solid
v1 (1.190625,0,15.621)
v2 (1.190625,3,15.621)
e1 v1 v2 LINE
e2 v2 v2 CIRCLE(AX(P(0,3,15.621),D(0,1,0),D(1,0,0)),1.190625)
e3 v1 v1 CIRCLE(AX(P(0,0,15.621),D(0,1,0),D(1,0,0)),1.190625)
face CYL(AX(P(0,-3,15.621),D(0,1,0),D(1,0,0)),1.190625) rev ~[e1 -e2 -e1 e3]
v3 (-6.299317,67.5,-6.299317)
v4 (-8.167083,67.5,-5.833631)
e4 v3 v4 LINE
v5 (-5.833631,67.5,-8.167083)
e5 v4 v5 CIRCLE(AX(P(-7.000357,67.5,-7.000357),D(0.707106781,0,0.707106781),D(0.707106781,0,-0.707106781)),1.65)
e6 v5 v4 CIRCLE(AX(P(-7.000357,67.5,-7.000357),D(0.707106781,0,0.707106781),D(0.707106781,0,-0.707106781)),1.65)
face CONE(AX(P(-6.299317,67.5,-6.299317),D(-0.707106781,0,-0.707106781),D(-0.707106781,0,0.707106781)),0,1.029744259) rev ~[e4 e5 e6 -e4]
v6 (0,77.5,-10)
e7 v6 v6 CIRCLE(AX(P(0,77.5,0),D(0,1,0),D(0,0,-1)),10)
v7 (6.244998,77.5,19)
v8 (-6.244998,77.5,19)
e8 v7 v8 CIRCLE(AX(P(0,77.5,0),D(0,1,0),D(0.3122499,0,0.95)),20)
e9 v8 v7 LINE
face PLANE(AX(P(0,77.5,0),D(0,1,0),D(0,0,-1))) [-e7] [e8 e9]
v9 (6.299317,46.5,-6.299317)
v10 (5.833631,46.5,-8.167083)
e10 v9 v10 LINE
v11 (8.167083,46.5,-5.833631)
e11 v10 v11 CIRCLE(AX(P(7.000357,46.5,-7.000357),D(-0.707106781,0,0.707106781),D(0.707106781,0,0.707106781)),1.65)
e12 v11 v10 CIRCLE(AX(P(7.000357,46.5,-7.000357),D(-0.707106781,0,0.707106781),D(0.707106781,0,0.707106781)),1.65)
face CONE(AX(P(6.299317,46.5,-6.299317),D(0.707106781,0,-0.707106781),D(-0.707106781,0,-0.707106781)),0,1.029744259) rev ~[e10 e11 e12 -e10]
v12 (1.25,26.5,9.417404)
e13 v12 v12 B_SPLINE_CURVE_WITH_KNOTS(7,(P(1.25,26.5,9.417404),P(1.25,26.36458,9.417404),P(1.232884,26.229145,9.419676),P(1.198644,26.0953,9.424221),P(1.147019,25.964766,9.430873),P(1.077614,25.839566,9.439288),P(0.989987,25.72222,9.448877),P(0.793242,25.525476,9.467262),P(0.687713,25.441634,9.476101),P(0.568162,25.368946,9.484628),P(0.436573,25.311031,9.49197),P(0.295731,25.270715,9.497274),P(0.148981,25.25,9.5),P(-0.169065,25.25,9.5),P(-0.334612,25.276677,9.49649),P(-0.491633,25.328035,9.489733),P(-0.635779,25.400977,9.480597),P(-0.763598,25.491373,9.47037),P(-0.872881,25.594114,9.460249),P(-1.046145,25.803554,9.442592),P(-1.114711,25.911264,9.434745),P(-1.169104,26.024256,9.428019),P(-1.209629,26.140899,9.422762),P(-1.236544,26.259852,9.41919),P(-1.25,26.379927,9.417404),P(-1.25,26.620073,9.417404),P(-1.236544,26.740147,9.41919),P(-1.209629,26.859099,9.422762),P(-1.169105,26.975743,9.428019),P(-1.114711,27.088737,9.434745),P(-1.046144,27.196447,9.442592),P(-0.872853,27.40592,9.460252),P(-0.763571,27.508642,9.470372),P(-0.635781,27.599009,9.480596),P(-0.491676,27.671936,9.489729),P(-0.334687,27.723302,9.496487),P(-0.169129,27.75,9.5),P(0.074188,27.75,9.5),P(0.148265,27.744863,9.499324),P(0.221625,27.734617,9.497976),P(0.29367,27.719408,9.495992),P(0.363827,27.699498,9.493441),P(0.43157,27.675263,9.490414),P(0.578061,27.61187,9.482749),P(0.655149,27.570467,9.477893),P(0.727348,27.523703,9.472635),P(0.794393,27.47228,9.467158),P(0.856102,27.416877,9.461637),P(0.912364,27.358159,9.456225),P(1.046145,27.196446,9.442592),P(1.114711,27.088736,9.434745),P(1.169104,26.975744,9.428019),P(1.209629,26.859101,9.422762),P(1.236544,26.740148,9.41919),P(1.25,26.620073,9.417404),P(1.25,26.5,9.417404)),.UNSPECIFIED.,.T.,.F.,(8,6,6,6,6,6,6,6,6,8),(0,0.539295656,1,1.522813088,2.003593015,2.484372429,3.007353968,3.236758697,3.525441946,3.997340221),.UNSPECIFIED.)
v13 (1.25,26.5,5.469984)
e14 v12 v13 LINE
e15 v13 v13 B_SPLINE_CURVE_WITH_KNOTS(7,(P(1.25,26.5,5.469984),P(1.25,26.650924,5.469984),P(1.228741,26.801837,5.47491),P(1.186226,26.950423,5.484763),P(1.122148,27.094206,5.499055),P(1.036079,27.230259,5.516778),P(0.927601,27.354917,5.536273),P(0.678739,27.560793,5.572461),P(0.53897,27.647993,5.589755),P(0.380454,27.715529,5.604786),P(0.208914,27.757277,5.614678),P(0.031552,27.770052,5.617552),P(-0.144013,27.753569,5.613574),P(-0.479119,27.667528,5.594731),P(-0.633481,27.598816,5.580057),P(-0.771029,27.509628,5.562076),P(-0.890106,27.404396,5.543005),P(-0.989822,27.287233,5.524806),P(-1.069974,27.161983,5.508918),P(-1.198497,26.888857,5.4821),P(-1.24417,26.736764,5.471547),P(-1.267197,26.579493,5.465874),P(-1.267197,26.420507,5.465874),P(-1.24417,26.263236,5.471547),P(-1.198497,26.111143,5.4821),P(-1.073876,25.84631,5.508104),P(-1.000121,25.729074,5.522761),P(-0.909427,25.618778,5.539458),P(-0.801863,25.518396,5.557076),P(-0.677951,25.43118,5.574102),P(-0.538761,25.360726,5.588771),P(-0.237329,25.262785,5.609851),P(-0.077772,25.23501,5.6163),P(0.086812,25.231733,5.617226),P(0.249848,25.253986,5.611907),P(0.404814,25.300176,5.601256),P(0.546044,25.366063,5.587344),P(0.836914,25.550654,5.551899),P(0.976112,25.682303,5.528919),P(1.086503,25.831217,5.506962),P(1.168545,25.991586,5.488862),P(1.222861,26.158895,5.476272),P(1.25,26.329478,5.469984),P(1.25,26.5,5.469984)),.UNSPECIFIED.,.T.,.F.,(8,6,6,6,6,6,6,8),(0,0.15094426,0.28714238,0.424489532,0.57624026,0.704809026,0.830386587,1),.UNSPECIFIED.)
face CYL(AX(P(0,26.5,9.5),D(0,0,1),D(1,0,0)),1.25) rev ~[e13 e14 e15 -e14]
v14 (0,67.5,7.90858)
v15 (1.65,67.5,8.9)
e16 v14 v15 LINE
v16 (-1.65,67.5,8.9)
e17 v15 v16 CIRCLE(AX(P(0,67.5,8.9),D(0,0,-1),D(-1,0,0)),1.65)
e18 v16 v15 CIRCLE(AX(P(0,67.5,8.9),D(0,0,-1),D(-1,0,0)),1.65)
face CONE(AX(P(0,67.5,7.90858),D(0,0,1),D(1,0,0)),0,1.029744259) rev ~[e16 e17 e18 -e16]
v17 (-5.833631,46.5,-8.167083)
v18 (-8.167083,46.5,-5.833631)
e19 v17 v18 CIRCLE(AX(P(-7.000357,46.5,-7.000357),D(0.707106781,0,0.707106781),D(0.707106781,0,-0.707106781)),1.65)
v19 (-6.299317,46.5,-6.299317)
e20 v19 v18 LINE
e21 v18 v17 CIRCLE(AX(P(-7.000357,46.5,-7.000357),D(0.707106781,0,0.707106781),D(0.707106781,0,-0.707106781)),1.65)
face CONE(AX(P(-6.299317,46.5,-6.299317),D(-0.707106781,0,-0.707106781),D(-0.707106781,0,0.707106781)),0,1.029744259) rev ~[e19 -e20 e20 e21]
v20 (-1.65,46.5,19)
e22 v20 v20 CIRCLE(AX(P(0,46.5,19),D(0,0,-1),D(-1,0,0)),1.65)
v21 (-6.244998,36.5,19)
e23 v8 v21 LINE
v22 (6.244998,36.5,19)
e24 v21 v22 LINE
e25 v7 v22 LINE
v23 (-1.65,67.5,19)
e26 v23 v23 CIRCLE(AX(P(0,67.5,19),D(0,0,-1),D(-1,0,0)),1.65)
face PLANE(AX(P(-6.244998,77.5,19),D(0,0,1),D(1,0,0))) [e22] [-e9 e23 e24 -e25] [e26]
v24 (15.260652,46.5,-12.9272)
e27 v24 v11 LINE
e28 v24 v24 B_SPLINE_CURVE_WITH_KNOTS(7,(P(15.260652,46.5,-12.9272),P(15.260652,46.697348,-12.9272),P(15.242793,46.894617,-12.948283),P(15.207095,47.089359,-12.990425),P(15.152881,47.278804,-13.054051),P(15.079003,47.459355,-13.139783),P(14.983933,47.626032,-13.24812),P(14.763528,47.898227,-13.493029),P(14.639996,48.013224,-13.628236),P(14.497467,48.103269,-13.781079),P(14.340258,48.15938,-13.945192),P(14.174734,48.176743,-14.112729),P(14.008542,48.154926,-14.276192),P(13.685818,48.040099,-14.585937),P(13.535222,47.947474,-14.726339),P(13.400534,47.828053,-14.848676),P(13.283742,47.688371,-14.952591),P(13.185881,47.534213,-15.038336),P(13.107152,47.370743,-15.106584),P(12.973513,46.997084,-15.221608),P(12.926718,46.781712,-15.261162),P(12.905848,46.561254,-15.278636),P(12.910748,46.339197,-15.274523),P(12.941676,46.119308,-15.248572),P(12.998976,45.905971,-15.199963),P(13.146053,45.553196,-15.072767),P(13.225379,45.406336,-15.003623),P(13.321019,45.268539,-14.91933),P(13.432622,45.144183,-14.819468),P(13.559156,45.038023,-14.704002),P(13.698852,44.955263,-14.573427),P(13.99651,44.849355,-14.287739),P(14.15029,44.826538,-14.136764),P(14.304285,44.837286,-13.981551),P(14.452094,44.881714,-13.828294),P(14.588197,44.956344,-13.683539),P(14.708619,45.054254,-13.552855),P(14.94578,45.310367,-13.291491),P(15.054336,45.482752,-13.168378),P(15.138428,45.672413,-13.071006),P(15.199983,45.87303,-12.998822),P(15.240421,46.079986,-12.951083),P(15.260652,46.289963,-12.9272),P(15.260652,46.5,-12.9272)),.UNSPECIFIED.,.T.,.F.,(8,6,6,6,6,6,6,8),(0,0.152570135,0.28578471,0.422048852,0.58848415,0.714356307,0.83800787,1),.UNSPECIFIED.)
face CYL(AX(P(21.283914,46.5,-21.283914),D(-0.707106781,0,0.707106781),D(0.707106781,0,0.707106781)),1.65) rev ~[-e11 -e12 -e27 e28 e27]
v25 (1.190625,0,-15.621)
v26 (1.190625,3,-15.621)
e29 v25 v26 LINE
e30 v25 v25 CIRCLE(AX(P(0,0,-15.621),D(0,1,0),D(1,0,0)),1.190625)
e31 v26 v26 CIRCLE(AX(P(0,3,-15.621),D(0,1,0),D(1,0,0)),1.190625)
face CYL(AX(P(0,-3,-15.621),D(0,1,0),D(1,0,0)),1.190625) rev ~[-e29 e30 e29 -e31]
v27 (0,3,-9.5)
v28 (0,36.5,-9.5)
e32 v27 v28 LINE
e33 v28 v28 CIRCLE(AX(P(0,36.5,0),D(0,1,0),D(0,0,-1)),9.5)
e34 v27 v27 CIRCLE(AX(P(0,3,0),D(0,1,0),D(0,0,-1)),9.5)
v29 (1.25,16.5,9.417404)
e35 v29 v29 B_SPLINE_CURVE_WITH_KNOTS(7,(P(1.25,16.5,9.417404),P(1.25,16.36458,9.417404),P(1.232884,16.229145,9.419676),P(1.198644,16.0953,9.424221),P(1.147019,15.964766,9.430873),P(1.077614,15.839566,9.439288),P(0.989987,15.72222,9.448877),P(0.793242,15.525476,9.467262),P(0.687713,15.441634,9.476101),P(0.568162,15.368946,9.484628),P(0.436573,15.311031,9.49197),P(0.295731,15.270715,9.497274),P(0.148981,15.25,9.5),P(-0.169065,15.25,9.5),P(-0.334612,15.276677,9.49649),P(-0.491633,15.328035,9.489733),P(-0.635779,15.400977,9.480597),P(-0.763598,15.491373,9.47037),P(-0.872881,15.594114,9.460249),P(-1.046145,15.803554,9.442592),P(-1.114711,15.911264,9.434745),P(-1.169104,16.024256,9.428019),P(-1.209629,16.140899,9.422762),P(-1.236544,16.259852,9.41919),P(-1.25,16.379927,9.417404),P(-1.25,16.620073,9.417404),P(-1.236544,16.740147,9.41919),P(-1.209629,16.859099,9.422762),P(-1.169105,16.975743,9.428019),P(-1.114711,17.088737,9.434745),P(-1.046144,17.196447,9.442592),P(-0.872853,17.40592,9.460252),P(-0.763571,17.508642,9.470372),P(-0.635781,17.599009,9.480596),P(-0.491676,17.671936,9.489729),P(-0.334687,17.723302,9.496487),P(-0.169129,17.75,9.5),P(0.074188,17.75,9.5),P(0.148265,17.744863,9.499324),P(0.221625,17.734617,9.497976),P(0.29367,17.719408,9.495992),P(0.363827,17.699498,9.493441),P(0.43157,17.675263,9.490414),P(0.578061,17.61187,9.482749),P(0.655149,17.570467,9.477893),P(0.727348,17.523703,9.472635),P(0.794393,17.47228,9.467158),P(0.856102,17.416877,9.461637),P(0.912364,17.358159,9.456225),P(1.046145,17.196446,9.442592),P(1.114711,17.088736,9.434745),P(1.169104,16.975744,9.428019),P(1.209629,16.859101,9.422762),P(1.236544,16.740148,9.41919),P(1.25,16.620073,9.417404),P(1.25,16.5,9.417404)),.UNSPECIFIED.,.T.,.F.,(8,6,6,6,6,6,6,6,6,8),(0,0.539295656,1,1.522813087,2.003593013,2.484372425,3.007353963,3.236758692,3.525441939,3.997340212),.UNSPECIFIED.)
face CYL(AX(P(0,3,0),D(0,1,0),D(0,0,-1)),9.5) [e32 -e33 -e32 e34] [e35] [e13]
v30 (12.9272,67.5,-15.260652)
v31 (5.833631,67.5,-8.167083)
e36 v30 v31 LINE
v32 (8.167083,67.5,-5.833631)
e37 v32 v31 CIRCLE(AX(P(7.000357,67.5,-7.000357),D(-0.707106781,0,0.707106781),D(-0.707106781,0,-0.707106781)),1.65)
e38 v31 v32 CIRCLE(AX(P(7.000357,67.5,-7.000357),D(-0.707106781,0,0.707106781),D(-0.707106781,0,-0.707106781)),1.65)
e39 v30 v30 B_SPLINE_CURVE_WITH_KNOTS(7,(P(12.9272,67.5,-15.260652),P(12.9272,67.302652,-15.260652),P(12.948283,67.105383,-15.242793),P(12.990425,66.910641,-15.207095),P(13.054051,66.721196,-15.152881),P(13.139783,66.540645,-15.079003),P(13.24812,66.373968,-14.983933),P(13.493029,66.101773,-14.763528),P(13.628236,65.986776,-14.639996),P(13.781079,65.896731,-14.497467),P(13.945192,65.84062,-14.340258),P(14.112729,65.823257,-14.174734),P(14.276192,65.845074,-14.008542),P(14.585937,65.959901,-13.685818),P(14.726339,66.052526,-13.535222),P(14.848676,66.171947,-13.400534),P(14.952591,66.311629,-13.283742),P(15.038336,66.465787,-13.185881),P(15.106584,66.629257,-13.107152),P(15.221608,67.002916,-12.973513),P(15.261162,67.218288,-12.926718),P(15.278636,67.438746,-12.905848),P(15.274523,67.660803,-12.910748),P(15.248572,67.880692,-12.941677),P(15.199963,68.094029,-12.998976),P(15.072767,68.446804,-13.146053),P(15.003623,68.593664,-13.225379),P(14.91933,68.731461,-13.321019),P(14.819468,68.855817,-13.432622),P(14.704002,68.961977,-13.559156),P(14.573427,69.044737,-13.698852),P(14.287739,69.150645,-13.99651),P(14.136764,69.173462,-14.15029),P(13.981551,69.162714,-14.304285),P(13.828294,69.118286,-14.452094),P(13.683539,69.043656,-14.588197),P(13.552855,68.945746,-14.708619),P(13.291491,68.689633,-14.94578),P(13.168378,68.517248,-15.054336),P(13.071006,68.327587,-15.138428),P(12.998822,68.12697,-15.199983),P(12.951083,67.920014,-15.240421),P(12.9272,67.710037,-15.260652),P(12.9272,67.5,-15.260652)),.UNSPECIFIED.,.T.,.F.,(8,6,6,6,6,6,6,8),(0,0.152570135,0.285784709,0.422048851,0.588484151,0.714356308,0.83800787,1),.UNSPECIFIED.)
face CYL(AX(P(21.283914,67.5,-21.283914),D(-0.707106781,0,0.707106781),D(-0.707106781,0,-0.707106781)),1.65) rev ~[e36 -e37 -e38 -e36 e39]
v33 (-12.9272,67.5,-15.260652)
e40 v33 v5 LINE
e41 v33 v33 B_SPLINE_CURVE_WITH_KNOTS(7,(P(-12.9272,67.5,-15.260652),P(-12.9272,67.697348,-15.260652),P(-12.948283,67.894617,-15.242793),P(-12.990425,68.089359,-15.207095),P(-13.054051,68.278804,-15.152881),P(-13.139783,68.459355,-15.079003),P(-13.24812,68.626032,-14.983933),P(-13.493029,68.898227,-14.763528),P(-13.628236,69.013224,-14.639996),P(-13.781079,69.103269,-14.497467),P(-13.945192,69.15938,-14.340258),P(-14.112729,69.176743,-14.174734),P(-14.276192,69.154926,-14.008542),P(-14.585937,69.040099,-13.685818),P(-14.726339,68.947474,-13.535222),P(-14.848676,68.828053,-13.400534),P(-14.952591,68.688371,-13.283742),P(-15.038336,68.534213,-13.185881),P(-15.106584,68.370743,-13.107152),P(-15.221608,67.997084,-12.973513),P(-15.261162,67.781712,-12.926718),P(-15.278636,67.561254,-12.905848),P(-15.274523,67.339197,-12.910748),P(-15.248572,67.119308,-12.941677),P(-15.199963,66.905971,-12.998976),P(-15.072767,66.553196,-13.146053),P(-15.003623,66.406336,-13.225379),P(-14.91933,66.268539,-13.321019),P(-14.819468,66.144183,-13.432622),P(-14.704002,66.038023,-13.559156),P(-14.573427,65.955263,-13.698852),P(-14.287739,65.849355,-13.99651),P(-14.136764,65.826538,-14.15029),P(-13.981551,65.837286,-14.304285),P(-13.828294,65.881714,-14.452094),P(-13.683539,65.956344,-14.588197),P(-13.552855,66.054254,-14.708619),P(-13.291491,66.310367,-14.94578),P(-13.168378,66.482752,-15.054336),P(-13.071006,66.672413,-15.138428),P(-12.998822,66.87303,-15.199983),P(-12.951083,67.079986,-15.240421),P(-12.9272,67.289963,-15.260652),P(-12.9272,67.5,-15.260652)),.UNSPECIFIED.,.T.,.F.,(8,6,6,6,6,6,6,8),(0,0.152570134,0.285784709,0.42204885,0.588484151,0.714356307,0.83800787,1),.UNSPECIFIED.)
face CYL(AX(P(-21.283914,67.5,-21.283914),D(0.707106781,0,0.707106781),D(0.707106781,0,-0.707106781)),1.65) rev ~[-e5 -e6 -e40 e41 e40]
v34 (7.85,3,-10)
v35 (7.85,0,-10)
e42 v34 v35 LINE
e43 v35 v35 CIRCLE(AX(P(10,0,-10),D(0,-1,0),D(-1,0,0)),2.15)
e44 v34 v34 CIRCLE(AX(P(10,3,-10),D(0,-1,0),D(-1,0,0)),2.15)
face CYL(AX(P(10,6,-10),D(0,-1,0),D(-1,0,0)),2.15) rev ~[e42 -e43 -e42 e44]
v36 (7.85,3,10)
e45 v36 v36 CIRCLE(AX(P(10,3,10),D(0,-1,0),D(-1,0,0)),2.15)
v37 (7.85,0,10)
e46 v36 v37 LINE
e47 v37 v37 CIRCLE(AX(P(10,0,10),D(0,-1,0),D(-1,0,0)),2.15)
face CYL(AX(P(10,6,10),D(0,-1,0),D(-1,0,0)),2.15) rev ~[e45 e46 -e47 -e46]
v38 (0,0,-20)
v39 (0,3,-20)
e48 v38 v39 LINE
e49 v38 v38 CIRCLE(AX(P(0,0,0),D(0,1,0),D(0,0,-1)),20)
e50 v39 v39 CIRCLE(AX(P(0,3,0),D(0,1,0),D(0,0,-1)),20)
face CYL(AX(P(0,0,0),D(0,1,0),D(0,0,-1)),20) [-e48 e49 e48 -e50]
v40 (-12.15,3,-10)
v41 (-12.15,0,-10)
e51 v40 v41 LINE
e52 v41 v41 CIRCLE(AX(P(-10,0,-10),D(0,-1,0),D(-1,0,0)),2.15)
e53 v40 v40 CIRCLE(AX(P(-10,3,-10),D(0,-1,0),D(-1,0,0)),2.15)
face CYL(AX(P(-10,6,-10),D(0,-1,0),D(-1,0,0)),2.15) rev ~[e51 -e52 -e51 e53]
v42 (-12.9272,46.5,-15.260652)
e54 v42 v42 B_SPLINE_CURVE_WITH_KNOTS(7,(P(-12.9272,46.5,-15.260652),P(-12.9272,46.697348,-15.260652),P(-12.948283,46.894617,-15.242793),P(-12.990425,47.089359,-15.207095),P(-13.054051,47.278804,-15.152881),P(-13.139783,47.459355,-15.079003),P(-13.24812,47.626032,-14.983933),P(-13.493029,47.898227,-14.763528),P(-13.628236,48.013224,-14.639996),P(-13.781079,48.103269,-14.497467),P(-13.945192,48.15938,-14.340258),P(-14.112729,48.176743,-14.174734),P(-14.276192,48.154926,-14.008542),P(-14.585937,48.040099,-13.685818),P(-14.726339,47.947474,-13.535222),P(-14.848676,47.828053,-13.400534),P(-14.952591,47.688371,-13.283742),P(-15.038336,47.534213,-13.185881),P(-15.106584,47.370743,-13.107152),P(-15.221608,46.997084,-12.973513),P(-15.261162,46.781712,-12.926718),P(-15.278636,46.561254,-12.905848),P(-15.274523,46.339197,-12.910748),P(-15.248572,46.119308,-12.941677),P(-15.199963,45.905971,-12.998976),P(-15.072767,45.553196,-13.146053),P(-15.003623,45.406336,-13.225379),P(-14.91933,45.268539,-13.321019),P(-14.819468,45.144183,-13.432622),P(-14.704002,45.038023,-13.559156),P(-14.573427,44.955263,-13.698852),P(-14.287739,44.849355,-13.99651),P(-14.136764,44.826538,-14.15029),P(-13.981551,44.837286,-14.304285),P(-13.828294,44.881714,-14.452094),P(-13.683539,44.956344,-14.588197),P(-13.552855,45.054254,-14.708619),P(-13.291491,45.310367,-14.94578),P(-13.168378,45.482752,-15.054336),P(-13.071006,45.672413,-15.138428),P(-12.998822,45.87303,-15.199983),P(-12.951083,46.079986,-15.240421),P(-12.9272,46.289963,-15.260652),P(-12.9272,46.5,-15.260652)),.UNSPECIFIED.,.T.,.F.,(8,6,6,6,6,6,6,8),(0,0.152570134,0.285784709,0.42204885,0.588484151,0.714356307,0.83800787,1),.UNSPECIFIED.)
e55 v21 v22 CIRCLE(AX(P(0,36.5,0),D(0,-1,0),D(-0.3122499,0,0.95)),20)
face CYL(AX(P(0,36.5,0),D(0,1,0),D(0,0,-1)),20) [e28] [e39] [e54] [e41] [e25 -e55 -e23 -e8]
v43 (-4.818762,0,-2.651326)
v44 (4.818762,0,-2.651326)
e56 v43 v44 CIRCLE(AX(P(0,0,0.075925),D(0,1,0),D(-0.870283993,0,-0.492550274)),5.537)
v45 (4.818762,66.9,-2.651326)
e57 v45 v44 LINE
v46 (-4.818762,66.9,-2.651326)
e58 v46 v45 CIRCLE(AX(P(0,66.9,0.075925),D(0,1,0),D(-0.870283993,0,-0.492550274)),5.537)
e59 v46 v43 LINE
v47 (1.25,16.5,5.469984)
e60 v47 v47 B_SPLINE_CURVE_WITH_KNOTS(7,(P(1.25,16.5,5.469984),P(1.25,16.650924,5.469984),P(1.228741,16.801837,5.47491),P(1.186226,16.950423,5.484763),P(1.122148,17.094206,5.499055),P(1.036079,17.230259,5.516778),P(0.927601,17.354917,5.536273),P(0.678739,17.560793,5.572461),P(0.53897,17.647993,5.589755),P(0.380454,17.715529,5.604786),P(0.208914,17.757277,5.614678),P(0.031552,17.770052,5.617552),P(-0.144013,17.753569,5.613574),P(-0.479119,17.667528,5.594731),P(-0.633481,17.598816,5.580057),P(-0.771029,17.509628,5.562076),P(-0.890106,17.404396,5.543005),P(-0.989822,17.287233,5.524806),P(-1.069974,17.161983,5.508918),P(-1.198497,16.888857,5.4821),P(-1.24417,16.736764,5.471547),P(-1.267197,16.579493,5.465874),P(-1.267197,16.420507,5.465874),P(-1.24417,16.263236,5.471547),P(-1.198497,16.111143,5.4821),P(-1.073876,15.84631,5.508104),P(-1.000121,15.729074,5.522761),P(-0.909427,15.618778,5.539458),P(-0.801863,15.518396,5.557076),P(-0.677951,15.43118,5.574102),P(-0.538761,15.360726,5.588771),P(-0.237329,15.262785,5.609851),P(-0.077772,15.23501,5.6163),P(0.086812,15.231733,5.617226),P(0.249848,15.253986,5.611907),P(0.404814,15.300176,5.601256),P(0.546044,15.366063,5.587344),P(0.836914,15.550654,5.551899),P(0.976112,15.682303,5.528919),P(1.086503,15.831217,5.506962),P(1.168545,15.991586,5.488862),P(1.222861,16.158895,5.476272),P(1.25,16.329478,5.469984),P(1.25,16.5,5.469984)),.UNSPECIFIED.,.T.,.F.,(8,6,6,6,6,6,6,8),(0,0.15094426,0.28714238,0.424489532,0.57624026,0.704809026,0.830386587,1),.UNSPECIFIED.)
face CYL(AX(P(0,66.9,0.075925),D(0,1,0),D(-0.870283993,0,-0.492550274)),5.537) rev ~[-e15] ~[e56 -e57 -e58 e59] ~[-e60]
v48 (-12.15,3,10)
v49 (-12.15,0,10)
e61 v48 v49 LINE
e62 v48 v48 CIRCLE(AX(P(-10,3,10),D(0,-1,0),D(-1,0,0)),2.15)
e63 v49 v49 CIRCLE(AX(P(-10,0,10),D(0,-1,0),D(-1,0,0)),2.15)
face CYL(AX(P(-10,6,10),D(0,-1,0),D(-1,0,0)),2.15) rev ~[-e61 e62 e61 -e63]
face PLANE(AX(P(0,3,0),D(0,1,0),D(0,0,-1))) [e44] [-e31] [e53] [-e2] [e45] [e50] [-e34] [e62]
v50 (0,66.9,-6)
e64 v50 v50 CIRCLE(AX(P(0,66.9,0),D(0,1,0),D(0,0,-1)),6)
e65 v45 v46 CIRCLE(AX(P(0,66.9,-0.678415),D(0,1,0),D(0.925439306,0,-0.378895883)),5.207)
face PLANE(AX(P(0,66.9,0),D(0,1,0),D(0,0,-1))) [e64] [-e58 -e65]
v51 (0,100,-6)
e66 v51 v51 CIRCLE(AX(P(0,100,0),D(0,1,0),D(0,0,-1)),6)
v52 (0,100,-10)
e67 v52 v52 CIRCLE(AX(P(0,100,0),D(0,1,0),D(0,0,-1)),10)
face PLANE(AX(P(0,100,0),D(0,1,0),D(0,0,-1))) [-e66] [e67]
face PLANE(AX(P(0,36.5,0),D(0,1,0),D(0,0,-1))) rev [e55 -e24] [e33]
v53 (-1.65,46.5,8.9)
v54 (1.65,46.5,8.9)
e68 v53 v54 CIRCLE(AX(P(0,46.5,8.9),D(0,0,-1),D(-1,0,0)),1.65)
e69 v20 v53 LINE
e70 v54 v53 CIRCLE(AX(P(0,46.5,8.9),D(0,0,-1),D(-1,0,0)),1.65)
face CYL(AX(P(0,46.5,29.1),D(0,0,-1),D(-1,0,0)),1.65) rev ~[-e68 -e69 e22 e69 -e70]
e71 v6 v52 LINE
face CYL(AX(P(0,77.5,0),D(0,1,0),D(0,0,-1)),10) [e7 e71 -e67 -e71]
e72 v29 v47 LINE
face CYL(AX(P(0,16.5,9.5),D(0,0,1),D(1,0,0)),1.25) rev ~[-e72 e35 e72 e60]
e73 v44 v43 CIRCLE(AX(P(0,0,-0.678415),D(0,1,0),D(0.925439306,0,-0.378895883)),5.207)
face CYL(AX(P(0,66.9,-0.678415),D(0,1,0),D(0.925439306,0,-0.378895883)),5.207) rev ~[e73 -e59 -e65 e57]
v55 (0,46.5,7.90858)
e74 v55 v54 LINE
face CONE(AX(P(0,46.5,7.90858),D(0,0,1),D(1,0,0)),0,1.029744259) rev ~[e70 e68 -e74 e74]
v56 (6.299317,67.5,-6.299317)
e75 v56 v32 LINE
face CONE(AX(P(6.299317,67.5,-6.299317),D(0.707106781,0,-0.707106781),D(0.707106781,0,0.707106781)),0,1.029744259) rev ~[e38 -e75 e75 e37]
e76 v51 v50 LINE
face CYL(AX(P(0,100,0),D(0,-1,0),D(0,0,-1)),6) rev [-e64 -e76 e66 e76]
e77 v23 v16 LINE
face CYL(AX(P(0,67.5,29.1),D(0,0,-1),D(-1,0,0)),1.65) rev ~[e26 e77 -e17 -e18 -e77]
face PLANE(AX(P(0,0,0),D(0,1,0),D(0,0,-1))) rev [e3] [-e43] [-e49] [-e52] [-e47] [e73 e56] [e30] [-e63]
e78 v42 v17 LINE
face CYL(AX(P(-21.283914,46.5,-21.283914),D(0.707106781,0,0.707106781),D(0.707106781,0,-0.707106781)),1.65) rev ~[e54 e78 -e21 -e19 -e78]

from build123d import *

# Parameters (mm, degrees)
CUT_EXTRUDE2_REACH              = 84.5
M4_TAPPED_HOLE1_D               = 3.3
M4_TAPPED_HOLE1_DEPTH           = 10.1
M4_TAPPED_HOLE1_TIP             = 0.991420021
M4_TAPPED_HOLE1_ON_FACE_2_D     = 3.3
M4_TAPPED_HOLE1_ON_FACE_2_DEPTH = 10.1
M4_TAPPED_HOLE1_ON_FACE_2_TIP   = 0.991420021
M4_TAPPED_HOLE1_ON_FACE_3_D     = 3.3
M4_TAPPED_HOLE1_ON_FACE_3_DEPTH = 10.1
M4_TAPPED_HOLE1_ON_FACE_3_TIP   = 0.991420021
M4_TAPPED_HOLE1_ON_FACE_4_D     = 3.3
M4_TAPPED_HOLE1_ON_FACE_4_DEPTH = 10.1
M4_TAPPED_HOLE1_ON_FACE_4_TIP   = 0.991420021
CUT_EXTRUDE1_START              = -66.9
CUT_EXTRUDE1_DEPTH              = 66.9
M3_TAPPED_HOLE1_REACH           = 92.788
M3_TAPPED_HOLE1_BORE_R          = 1.25
F_2_4MM_DOWEL_HOLE1_D           = 2.38125
F_2_4MM_DOWEL_HOLE1_DEPTH       = 3
M4_CLEARANCE_HOLE2_D            = 4.3
M4_CLEARANCE_HOLE2_DEPTH        = 3


with BuildPart() as part:
    # Sketch1 → Revolve1 (revolve)
    with BuildSketch(Plane.XY, mode=Mode.PRIVATE) as revolve1_sk:
        Polygon((5.5, 66.9), (5.5, 0), (20, 0), (20, 3), (9.5, 3), (9.5, 36.5), (20, 36.5), (20, 77.5), (10, 77.5), (10, 100), (6, 100), (6, 66.9), align=None)
    revolve(revolve1_sk.sketch.rotate(Axis((0, 0, 0), (0, 1, 0)), 90), axis=Axis((0, 0, 0), (0, 1, 0)))

    # Sketch6 → Cut-Extrude2 (cut, up to next)
    with BuildSketch(Plane(origin=(0, 77.5, 0), x_dir=(1, 0, 0), z_dir=(0, 1, 0)), mode=Mode.PRIVATE) as cut_extrude2_sk1:
        with BuildLine():
            Line((-6.244997998, -19), (6.244997998, -19))
            ThreePointArc((6.244997998, -19), (0, -20), (-6.244997998, -19))
        make_face()
    cut_extrude2_tool1 = extrude(cut_extrude2_sk1.sketch, amount=-CUT_EXTRUDE2_REACH, mode=Mode.PRIVATE) & part.part
    add(cut_extrude2_tool1.solids().sort_by_distance((0, 77.5, 19.40087))[0], mode=Mode.SUBTRACT)

    # M4 Tapped Hole1
    with Locations(Plane(origin=(14.142135624, 67.5, -14.142135624), x_dir=(0.707106781187, 0, 0.707106781187), z_dir=(0.707106781187, 0, -0.707106781187))):
        with Locations((0, 0)):
            Hole(M4_TAPPED_HOLE1_D / 2, depth=M4_TAPPED_HOLE1_DEPTH)
            with Locations((0, 0, -(M4_TAPPED_HOLE1_DEPTH + M4_TAPPED_HOLE1_TIP / 2))):  # 118° drill point
                Cone(0, M4_TAPPED_HOLE1_D / 2, M4_TAPPED_HOLE1_TIP, mode=Mode.SUBTRACT)

    # M4 Tapped Hole1 on face 2
    with Locations(Plane(origin=(14.142135624, 46.5, -14.142135624), x_dir=(-0.707106781187, 0, -0.707106781187), z_dir=(0.707106781187, 0, -0.707106781187))):
        with Locations((0, 0)):
            Hole(M4_TAPPED_HOLE1_ON_FACE_2_D / 2, depth=M4_TAPPED_HOLE1_ON_FACE_2_DEPTH)
            with Locations((0, 0, -(M4_TAPPED_HOLE1_ON_FACE_2_DEPTH + M4_TAPPED_HOLE1_ON_FACE_2_TIP / 2))):  # 118° drill point
                Cone(0, M4_TAPPED_HOLE1_ON_FACE_2_D / 2, M4_TAPPED_HOLE1_ON_FACE_2_TIP, mode=Mode.SUBTRACT)

    # M4 Tapped Hole1 on face 3
    with Locations(Plane(origin=(-14.142135624, 46.5, -14.142135624), x_dir=(-0.707106781187, 0, 0.707106781187), z_dir=(-0.707106781187, 0, -0.707106781187))):
        with Locations((0, 0), (0, 21)):
            Hole(M4_TAPPED_HOLE1_ON_FACE_3_D / 2, depth=M4_TAPPED_HOLE1_ON_FACE_3_DEPTH)
            with Locations((0, 0, -(M4_TAPPED_HOLE1_ON_FACE_3_DEPTH + M4_TAPPED_HOLE1_ON_FACE_3_TIP / 2))):  # 118° drill point
                Cone(0, M4_TAPPED_HOLE1_ON_FACE_3_D / 2, M4_TAPPED_HOLE1_ON_FACE_3_TIP, mode=Mode.SUBTRACT)

    # M4 Tapped Hole1 on face 4
    with Locations(Plane(origin=(0, 67.5, 19), x_dir=(1, 0, 0), z_dir=(0, 0, 1))):
        with Locations((0, 0), (0, -21)):
            Hole(M4_TAPPED_HOLE1_ON_FACE_4_D / 2, depth=M4_TAPPED_HOLE1_ON_FACE_4_DEPTH)
            with Locations((0, 0, -(M4_TAPPED_HOLE1_ON_FACE_4_DEPTH + M4_TAPPED_HOLE1_ON_FACE_4_TIP / 2))):  # 118° drill point
                Cone(0, M4_TAPPED_HOLE1_ON_FACE_4_D / 2, M4_TAPPED_HOLE1_ON_FACE_4_TIP, mode=Mode.SUBTRACT)

    # Sketch3 → Cut-Extrude1 (cut)
    with BuildSketch(Plane.XZ.offset(CUT_EXTRUDE1_START)):
        with BuildLine():
            ThreePointArc((4.818762467, -2.651325759), (0, -5.885414894), (-4.818762467, -2.651325759))
            ThreePointArc((-4.818762467, -2.651325759), (0, 5.612925106), (4.818762467, -2.651325759))
        make_face()
    extrude(amount=CUT_EXTRUDE1_DEPTH, mode=Mode.SUBTRACT)

    # M3 Tapped Hole1 bore (on position points) → M3 Tapped Hole1 (cut, up to next)
    with BuildSketch(Plane(origin=(0, 16.5, 9.5), x_dir=(1, 0, 0), z_dir=(0, 0, 1)), mode=Mode.PRIVATE) as m3_tapped_hole1_sk1:
        Circle(M3_TAPPED_HOLE1_BORE_R)
    m3_tapped_hole1_tool1 = extrude(m3_tapped_hole1_sk1.sketch, amount=-M3_TAPPED_HOLE1_REACH, mode=Mode.PRIVATE) & part.part
    # M3 Tapped Hole1 bore (on position points) → M3 Tapped Hole1 (cut, up to next)
    with BuildSketch(Plane(origin=(0, 16.5, 9.5), x_dir=(1, 0, 0), z_dir=(0, 0, 1)), mode=Mode.PRIVATE) as m3_tapped_hole1_sk2:
        with Locations((0, 10)):
            Circle(M3_TAPPED_HOLE1_BORE_R)
    m3_tapped_hole1_tool2 = extrude(m3_tapped_hole1_sk2.sketch, amount=-M3_TAPPED_HOLE1_REACH, mode=Mode.PRIVATE) & part.part
    add(m3_tapped_hole1_tool1.solids().sort_by_distance((0, 16.5, 9.5))[0], mode=Mode.SUBTRACT)
    add(m3_tapped_hole1_tool2.solids().sort_by_distance((0, 26.5, 9.5))[0], mode=Mode.SUBTRACT)

    # Ø2.4mm Dowel Hole1
    with Locations(Plane(origin=(0, 0, 0), x_dir=(-1, 0, 0), z_dir=(0, -1, 0))):
        with Locations((0, -15.621), (0, 15.621)):
            Hole(F_2_4MM_DOWEL_HOLE1_D / 2, depth=F_2_4MM_DOWEL_HOLE1_DEPTH)

    # M4 Clearance Hole2
    with Locations(Plane(origin=(0, 3, 0), x_dir=(1, 0, 0), z_dir=(0, 1, 0))):
        with Locations((-10, -10), (0, 0), (-10, 10), (10, 10), (10, -10)):
            Hole(M4_CLEARANCE_HOLE2_D / 2, depth=M4_CLEARANCE_HOLE2_DEPTH)


solid = part.part
